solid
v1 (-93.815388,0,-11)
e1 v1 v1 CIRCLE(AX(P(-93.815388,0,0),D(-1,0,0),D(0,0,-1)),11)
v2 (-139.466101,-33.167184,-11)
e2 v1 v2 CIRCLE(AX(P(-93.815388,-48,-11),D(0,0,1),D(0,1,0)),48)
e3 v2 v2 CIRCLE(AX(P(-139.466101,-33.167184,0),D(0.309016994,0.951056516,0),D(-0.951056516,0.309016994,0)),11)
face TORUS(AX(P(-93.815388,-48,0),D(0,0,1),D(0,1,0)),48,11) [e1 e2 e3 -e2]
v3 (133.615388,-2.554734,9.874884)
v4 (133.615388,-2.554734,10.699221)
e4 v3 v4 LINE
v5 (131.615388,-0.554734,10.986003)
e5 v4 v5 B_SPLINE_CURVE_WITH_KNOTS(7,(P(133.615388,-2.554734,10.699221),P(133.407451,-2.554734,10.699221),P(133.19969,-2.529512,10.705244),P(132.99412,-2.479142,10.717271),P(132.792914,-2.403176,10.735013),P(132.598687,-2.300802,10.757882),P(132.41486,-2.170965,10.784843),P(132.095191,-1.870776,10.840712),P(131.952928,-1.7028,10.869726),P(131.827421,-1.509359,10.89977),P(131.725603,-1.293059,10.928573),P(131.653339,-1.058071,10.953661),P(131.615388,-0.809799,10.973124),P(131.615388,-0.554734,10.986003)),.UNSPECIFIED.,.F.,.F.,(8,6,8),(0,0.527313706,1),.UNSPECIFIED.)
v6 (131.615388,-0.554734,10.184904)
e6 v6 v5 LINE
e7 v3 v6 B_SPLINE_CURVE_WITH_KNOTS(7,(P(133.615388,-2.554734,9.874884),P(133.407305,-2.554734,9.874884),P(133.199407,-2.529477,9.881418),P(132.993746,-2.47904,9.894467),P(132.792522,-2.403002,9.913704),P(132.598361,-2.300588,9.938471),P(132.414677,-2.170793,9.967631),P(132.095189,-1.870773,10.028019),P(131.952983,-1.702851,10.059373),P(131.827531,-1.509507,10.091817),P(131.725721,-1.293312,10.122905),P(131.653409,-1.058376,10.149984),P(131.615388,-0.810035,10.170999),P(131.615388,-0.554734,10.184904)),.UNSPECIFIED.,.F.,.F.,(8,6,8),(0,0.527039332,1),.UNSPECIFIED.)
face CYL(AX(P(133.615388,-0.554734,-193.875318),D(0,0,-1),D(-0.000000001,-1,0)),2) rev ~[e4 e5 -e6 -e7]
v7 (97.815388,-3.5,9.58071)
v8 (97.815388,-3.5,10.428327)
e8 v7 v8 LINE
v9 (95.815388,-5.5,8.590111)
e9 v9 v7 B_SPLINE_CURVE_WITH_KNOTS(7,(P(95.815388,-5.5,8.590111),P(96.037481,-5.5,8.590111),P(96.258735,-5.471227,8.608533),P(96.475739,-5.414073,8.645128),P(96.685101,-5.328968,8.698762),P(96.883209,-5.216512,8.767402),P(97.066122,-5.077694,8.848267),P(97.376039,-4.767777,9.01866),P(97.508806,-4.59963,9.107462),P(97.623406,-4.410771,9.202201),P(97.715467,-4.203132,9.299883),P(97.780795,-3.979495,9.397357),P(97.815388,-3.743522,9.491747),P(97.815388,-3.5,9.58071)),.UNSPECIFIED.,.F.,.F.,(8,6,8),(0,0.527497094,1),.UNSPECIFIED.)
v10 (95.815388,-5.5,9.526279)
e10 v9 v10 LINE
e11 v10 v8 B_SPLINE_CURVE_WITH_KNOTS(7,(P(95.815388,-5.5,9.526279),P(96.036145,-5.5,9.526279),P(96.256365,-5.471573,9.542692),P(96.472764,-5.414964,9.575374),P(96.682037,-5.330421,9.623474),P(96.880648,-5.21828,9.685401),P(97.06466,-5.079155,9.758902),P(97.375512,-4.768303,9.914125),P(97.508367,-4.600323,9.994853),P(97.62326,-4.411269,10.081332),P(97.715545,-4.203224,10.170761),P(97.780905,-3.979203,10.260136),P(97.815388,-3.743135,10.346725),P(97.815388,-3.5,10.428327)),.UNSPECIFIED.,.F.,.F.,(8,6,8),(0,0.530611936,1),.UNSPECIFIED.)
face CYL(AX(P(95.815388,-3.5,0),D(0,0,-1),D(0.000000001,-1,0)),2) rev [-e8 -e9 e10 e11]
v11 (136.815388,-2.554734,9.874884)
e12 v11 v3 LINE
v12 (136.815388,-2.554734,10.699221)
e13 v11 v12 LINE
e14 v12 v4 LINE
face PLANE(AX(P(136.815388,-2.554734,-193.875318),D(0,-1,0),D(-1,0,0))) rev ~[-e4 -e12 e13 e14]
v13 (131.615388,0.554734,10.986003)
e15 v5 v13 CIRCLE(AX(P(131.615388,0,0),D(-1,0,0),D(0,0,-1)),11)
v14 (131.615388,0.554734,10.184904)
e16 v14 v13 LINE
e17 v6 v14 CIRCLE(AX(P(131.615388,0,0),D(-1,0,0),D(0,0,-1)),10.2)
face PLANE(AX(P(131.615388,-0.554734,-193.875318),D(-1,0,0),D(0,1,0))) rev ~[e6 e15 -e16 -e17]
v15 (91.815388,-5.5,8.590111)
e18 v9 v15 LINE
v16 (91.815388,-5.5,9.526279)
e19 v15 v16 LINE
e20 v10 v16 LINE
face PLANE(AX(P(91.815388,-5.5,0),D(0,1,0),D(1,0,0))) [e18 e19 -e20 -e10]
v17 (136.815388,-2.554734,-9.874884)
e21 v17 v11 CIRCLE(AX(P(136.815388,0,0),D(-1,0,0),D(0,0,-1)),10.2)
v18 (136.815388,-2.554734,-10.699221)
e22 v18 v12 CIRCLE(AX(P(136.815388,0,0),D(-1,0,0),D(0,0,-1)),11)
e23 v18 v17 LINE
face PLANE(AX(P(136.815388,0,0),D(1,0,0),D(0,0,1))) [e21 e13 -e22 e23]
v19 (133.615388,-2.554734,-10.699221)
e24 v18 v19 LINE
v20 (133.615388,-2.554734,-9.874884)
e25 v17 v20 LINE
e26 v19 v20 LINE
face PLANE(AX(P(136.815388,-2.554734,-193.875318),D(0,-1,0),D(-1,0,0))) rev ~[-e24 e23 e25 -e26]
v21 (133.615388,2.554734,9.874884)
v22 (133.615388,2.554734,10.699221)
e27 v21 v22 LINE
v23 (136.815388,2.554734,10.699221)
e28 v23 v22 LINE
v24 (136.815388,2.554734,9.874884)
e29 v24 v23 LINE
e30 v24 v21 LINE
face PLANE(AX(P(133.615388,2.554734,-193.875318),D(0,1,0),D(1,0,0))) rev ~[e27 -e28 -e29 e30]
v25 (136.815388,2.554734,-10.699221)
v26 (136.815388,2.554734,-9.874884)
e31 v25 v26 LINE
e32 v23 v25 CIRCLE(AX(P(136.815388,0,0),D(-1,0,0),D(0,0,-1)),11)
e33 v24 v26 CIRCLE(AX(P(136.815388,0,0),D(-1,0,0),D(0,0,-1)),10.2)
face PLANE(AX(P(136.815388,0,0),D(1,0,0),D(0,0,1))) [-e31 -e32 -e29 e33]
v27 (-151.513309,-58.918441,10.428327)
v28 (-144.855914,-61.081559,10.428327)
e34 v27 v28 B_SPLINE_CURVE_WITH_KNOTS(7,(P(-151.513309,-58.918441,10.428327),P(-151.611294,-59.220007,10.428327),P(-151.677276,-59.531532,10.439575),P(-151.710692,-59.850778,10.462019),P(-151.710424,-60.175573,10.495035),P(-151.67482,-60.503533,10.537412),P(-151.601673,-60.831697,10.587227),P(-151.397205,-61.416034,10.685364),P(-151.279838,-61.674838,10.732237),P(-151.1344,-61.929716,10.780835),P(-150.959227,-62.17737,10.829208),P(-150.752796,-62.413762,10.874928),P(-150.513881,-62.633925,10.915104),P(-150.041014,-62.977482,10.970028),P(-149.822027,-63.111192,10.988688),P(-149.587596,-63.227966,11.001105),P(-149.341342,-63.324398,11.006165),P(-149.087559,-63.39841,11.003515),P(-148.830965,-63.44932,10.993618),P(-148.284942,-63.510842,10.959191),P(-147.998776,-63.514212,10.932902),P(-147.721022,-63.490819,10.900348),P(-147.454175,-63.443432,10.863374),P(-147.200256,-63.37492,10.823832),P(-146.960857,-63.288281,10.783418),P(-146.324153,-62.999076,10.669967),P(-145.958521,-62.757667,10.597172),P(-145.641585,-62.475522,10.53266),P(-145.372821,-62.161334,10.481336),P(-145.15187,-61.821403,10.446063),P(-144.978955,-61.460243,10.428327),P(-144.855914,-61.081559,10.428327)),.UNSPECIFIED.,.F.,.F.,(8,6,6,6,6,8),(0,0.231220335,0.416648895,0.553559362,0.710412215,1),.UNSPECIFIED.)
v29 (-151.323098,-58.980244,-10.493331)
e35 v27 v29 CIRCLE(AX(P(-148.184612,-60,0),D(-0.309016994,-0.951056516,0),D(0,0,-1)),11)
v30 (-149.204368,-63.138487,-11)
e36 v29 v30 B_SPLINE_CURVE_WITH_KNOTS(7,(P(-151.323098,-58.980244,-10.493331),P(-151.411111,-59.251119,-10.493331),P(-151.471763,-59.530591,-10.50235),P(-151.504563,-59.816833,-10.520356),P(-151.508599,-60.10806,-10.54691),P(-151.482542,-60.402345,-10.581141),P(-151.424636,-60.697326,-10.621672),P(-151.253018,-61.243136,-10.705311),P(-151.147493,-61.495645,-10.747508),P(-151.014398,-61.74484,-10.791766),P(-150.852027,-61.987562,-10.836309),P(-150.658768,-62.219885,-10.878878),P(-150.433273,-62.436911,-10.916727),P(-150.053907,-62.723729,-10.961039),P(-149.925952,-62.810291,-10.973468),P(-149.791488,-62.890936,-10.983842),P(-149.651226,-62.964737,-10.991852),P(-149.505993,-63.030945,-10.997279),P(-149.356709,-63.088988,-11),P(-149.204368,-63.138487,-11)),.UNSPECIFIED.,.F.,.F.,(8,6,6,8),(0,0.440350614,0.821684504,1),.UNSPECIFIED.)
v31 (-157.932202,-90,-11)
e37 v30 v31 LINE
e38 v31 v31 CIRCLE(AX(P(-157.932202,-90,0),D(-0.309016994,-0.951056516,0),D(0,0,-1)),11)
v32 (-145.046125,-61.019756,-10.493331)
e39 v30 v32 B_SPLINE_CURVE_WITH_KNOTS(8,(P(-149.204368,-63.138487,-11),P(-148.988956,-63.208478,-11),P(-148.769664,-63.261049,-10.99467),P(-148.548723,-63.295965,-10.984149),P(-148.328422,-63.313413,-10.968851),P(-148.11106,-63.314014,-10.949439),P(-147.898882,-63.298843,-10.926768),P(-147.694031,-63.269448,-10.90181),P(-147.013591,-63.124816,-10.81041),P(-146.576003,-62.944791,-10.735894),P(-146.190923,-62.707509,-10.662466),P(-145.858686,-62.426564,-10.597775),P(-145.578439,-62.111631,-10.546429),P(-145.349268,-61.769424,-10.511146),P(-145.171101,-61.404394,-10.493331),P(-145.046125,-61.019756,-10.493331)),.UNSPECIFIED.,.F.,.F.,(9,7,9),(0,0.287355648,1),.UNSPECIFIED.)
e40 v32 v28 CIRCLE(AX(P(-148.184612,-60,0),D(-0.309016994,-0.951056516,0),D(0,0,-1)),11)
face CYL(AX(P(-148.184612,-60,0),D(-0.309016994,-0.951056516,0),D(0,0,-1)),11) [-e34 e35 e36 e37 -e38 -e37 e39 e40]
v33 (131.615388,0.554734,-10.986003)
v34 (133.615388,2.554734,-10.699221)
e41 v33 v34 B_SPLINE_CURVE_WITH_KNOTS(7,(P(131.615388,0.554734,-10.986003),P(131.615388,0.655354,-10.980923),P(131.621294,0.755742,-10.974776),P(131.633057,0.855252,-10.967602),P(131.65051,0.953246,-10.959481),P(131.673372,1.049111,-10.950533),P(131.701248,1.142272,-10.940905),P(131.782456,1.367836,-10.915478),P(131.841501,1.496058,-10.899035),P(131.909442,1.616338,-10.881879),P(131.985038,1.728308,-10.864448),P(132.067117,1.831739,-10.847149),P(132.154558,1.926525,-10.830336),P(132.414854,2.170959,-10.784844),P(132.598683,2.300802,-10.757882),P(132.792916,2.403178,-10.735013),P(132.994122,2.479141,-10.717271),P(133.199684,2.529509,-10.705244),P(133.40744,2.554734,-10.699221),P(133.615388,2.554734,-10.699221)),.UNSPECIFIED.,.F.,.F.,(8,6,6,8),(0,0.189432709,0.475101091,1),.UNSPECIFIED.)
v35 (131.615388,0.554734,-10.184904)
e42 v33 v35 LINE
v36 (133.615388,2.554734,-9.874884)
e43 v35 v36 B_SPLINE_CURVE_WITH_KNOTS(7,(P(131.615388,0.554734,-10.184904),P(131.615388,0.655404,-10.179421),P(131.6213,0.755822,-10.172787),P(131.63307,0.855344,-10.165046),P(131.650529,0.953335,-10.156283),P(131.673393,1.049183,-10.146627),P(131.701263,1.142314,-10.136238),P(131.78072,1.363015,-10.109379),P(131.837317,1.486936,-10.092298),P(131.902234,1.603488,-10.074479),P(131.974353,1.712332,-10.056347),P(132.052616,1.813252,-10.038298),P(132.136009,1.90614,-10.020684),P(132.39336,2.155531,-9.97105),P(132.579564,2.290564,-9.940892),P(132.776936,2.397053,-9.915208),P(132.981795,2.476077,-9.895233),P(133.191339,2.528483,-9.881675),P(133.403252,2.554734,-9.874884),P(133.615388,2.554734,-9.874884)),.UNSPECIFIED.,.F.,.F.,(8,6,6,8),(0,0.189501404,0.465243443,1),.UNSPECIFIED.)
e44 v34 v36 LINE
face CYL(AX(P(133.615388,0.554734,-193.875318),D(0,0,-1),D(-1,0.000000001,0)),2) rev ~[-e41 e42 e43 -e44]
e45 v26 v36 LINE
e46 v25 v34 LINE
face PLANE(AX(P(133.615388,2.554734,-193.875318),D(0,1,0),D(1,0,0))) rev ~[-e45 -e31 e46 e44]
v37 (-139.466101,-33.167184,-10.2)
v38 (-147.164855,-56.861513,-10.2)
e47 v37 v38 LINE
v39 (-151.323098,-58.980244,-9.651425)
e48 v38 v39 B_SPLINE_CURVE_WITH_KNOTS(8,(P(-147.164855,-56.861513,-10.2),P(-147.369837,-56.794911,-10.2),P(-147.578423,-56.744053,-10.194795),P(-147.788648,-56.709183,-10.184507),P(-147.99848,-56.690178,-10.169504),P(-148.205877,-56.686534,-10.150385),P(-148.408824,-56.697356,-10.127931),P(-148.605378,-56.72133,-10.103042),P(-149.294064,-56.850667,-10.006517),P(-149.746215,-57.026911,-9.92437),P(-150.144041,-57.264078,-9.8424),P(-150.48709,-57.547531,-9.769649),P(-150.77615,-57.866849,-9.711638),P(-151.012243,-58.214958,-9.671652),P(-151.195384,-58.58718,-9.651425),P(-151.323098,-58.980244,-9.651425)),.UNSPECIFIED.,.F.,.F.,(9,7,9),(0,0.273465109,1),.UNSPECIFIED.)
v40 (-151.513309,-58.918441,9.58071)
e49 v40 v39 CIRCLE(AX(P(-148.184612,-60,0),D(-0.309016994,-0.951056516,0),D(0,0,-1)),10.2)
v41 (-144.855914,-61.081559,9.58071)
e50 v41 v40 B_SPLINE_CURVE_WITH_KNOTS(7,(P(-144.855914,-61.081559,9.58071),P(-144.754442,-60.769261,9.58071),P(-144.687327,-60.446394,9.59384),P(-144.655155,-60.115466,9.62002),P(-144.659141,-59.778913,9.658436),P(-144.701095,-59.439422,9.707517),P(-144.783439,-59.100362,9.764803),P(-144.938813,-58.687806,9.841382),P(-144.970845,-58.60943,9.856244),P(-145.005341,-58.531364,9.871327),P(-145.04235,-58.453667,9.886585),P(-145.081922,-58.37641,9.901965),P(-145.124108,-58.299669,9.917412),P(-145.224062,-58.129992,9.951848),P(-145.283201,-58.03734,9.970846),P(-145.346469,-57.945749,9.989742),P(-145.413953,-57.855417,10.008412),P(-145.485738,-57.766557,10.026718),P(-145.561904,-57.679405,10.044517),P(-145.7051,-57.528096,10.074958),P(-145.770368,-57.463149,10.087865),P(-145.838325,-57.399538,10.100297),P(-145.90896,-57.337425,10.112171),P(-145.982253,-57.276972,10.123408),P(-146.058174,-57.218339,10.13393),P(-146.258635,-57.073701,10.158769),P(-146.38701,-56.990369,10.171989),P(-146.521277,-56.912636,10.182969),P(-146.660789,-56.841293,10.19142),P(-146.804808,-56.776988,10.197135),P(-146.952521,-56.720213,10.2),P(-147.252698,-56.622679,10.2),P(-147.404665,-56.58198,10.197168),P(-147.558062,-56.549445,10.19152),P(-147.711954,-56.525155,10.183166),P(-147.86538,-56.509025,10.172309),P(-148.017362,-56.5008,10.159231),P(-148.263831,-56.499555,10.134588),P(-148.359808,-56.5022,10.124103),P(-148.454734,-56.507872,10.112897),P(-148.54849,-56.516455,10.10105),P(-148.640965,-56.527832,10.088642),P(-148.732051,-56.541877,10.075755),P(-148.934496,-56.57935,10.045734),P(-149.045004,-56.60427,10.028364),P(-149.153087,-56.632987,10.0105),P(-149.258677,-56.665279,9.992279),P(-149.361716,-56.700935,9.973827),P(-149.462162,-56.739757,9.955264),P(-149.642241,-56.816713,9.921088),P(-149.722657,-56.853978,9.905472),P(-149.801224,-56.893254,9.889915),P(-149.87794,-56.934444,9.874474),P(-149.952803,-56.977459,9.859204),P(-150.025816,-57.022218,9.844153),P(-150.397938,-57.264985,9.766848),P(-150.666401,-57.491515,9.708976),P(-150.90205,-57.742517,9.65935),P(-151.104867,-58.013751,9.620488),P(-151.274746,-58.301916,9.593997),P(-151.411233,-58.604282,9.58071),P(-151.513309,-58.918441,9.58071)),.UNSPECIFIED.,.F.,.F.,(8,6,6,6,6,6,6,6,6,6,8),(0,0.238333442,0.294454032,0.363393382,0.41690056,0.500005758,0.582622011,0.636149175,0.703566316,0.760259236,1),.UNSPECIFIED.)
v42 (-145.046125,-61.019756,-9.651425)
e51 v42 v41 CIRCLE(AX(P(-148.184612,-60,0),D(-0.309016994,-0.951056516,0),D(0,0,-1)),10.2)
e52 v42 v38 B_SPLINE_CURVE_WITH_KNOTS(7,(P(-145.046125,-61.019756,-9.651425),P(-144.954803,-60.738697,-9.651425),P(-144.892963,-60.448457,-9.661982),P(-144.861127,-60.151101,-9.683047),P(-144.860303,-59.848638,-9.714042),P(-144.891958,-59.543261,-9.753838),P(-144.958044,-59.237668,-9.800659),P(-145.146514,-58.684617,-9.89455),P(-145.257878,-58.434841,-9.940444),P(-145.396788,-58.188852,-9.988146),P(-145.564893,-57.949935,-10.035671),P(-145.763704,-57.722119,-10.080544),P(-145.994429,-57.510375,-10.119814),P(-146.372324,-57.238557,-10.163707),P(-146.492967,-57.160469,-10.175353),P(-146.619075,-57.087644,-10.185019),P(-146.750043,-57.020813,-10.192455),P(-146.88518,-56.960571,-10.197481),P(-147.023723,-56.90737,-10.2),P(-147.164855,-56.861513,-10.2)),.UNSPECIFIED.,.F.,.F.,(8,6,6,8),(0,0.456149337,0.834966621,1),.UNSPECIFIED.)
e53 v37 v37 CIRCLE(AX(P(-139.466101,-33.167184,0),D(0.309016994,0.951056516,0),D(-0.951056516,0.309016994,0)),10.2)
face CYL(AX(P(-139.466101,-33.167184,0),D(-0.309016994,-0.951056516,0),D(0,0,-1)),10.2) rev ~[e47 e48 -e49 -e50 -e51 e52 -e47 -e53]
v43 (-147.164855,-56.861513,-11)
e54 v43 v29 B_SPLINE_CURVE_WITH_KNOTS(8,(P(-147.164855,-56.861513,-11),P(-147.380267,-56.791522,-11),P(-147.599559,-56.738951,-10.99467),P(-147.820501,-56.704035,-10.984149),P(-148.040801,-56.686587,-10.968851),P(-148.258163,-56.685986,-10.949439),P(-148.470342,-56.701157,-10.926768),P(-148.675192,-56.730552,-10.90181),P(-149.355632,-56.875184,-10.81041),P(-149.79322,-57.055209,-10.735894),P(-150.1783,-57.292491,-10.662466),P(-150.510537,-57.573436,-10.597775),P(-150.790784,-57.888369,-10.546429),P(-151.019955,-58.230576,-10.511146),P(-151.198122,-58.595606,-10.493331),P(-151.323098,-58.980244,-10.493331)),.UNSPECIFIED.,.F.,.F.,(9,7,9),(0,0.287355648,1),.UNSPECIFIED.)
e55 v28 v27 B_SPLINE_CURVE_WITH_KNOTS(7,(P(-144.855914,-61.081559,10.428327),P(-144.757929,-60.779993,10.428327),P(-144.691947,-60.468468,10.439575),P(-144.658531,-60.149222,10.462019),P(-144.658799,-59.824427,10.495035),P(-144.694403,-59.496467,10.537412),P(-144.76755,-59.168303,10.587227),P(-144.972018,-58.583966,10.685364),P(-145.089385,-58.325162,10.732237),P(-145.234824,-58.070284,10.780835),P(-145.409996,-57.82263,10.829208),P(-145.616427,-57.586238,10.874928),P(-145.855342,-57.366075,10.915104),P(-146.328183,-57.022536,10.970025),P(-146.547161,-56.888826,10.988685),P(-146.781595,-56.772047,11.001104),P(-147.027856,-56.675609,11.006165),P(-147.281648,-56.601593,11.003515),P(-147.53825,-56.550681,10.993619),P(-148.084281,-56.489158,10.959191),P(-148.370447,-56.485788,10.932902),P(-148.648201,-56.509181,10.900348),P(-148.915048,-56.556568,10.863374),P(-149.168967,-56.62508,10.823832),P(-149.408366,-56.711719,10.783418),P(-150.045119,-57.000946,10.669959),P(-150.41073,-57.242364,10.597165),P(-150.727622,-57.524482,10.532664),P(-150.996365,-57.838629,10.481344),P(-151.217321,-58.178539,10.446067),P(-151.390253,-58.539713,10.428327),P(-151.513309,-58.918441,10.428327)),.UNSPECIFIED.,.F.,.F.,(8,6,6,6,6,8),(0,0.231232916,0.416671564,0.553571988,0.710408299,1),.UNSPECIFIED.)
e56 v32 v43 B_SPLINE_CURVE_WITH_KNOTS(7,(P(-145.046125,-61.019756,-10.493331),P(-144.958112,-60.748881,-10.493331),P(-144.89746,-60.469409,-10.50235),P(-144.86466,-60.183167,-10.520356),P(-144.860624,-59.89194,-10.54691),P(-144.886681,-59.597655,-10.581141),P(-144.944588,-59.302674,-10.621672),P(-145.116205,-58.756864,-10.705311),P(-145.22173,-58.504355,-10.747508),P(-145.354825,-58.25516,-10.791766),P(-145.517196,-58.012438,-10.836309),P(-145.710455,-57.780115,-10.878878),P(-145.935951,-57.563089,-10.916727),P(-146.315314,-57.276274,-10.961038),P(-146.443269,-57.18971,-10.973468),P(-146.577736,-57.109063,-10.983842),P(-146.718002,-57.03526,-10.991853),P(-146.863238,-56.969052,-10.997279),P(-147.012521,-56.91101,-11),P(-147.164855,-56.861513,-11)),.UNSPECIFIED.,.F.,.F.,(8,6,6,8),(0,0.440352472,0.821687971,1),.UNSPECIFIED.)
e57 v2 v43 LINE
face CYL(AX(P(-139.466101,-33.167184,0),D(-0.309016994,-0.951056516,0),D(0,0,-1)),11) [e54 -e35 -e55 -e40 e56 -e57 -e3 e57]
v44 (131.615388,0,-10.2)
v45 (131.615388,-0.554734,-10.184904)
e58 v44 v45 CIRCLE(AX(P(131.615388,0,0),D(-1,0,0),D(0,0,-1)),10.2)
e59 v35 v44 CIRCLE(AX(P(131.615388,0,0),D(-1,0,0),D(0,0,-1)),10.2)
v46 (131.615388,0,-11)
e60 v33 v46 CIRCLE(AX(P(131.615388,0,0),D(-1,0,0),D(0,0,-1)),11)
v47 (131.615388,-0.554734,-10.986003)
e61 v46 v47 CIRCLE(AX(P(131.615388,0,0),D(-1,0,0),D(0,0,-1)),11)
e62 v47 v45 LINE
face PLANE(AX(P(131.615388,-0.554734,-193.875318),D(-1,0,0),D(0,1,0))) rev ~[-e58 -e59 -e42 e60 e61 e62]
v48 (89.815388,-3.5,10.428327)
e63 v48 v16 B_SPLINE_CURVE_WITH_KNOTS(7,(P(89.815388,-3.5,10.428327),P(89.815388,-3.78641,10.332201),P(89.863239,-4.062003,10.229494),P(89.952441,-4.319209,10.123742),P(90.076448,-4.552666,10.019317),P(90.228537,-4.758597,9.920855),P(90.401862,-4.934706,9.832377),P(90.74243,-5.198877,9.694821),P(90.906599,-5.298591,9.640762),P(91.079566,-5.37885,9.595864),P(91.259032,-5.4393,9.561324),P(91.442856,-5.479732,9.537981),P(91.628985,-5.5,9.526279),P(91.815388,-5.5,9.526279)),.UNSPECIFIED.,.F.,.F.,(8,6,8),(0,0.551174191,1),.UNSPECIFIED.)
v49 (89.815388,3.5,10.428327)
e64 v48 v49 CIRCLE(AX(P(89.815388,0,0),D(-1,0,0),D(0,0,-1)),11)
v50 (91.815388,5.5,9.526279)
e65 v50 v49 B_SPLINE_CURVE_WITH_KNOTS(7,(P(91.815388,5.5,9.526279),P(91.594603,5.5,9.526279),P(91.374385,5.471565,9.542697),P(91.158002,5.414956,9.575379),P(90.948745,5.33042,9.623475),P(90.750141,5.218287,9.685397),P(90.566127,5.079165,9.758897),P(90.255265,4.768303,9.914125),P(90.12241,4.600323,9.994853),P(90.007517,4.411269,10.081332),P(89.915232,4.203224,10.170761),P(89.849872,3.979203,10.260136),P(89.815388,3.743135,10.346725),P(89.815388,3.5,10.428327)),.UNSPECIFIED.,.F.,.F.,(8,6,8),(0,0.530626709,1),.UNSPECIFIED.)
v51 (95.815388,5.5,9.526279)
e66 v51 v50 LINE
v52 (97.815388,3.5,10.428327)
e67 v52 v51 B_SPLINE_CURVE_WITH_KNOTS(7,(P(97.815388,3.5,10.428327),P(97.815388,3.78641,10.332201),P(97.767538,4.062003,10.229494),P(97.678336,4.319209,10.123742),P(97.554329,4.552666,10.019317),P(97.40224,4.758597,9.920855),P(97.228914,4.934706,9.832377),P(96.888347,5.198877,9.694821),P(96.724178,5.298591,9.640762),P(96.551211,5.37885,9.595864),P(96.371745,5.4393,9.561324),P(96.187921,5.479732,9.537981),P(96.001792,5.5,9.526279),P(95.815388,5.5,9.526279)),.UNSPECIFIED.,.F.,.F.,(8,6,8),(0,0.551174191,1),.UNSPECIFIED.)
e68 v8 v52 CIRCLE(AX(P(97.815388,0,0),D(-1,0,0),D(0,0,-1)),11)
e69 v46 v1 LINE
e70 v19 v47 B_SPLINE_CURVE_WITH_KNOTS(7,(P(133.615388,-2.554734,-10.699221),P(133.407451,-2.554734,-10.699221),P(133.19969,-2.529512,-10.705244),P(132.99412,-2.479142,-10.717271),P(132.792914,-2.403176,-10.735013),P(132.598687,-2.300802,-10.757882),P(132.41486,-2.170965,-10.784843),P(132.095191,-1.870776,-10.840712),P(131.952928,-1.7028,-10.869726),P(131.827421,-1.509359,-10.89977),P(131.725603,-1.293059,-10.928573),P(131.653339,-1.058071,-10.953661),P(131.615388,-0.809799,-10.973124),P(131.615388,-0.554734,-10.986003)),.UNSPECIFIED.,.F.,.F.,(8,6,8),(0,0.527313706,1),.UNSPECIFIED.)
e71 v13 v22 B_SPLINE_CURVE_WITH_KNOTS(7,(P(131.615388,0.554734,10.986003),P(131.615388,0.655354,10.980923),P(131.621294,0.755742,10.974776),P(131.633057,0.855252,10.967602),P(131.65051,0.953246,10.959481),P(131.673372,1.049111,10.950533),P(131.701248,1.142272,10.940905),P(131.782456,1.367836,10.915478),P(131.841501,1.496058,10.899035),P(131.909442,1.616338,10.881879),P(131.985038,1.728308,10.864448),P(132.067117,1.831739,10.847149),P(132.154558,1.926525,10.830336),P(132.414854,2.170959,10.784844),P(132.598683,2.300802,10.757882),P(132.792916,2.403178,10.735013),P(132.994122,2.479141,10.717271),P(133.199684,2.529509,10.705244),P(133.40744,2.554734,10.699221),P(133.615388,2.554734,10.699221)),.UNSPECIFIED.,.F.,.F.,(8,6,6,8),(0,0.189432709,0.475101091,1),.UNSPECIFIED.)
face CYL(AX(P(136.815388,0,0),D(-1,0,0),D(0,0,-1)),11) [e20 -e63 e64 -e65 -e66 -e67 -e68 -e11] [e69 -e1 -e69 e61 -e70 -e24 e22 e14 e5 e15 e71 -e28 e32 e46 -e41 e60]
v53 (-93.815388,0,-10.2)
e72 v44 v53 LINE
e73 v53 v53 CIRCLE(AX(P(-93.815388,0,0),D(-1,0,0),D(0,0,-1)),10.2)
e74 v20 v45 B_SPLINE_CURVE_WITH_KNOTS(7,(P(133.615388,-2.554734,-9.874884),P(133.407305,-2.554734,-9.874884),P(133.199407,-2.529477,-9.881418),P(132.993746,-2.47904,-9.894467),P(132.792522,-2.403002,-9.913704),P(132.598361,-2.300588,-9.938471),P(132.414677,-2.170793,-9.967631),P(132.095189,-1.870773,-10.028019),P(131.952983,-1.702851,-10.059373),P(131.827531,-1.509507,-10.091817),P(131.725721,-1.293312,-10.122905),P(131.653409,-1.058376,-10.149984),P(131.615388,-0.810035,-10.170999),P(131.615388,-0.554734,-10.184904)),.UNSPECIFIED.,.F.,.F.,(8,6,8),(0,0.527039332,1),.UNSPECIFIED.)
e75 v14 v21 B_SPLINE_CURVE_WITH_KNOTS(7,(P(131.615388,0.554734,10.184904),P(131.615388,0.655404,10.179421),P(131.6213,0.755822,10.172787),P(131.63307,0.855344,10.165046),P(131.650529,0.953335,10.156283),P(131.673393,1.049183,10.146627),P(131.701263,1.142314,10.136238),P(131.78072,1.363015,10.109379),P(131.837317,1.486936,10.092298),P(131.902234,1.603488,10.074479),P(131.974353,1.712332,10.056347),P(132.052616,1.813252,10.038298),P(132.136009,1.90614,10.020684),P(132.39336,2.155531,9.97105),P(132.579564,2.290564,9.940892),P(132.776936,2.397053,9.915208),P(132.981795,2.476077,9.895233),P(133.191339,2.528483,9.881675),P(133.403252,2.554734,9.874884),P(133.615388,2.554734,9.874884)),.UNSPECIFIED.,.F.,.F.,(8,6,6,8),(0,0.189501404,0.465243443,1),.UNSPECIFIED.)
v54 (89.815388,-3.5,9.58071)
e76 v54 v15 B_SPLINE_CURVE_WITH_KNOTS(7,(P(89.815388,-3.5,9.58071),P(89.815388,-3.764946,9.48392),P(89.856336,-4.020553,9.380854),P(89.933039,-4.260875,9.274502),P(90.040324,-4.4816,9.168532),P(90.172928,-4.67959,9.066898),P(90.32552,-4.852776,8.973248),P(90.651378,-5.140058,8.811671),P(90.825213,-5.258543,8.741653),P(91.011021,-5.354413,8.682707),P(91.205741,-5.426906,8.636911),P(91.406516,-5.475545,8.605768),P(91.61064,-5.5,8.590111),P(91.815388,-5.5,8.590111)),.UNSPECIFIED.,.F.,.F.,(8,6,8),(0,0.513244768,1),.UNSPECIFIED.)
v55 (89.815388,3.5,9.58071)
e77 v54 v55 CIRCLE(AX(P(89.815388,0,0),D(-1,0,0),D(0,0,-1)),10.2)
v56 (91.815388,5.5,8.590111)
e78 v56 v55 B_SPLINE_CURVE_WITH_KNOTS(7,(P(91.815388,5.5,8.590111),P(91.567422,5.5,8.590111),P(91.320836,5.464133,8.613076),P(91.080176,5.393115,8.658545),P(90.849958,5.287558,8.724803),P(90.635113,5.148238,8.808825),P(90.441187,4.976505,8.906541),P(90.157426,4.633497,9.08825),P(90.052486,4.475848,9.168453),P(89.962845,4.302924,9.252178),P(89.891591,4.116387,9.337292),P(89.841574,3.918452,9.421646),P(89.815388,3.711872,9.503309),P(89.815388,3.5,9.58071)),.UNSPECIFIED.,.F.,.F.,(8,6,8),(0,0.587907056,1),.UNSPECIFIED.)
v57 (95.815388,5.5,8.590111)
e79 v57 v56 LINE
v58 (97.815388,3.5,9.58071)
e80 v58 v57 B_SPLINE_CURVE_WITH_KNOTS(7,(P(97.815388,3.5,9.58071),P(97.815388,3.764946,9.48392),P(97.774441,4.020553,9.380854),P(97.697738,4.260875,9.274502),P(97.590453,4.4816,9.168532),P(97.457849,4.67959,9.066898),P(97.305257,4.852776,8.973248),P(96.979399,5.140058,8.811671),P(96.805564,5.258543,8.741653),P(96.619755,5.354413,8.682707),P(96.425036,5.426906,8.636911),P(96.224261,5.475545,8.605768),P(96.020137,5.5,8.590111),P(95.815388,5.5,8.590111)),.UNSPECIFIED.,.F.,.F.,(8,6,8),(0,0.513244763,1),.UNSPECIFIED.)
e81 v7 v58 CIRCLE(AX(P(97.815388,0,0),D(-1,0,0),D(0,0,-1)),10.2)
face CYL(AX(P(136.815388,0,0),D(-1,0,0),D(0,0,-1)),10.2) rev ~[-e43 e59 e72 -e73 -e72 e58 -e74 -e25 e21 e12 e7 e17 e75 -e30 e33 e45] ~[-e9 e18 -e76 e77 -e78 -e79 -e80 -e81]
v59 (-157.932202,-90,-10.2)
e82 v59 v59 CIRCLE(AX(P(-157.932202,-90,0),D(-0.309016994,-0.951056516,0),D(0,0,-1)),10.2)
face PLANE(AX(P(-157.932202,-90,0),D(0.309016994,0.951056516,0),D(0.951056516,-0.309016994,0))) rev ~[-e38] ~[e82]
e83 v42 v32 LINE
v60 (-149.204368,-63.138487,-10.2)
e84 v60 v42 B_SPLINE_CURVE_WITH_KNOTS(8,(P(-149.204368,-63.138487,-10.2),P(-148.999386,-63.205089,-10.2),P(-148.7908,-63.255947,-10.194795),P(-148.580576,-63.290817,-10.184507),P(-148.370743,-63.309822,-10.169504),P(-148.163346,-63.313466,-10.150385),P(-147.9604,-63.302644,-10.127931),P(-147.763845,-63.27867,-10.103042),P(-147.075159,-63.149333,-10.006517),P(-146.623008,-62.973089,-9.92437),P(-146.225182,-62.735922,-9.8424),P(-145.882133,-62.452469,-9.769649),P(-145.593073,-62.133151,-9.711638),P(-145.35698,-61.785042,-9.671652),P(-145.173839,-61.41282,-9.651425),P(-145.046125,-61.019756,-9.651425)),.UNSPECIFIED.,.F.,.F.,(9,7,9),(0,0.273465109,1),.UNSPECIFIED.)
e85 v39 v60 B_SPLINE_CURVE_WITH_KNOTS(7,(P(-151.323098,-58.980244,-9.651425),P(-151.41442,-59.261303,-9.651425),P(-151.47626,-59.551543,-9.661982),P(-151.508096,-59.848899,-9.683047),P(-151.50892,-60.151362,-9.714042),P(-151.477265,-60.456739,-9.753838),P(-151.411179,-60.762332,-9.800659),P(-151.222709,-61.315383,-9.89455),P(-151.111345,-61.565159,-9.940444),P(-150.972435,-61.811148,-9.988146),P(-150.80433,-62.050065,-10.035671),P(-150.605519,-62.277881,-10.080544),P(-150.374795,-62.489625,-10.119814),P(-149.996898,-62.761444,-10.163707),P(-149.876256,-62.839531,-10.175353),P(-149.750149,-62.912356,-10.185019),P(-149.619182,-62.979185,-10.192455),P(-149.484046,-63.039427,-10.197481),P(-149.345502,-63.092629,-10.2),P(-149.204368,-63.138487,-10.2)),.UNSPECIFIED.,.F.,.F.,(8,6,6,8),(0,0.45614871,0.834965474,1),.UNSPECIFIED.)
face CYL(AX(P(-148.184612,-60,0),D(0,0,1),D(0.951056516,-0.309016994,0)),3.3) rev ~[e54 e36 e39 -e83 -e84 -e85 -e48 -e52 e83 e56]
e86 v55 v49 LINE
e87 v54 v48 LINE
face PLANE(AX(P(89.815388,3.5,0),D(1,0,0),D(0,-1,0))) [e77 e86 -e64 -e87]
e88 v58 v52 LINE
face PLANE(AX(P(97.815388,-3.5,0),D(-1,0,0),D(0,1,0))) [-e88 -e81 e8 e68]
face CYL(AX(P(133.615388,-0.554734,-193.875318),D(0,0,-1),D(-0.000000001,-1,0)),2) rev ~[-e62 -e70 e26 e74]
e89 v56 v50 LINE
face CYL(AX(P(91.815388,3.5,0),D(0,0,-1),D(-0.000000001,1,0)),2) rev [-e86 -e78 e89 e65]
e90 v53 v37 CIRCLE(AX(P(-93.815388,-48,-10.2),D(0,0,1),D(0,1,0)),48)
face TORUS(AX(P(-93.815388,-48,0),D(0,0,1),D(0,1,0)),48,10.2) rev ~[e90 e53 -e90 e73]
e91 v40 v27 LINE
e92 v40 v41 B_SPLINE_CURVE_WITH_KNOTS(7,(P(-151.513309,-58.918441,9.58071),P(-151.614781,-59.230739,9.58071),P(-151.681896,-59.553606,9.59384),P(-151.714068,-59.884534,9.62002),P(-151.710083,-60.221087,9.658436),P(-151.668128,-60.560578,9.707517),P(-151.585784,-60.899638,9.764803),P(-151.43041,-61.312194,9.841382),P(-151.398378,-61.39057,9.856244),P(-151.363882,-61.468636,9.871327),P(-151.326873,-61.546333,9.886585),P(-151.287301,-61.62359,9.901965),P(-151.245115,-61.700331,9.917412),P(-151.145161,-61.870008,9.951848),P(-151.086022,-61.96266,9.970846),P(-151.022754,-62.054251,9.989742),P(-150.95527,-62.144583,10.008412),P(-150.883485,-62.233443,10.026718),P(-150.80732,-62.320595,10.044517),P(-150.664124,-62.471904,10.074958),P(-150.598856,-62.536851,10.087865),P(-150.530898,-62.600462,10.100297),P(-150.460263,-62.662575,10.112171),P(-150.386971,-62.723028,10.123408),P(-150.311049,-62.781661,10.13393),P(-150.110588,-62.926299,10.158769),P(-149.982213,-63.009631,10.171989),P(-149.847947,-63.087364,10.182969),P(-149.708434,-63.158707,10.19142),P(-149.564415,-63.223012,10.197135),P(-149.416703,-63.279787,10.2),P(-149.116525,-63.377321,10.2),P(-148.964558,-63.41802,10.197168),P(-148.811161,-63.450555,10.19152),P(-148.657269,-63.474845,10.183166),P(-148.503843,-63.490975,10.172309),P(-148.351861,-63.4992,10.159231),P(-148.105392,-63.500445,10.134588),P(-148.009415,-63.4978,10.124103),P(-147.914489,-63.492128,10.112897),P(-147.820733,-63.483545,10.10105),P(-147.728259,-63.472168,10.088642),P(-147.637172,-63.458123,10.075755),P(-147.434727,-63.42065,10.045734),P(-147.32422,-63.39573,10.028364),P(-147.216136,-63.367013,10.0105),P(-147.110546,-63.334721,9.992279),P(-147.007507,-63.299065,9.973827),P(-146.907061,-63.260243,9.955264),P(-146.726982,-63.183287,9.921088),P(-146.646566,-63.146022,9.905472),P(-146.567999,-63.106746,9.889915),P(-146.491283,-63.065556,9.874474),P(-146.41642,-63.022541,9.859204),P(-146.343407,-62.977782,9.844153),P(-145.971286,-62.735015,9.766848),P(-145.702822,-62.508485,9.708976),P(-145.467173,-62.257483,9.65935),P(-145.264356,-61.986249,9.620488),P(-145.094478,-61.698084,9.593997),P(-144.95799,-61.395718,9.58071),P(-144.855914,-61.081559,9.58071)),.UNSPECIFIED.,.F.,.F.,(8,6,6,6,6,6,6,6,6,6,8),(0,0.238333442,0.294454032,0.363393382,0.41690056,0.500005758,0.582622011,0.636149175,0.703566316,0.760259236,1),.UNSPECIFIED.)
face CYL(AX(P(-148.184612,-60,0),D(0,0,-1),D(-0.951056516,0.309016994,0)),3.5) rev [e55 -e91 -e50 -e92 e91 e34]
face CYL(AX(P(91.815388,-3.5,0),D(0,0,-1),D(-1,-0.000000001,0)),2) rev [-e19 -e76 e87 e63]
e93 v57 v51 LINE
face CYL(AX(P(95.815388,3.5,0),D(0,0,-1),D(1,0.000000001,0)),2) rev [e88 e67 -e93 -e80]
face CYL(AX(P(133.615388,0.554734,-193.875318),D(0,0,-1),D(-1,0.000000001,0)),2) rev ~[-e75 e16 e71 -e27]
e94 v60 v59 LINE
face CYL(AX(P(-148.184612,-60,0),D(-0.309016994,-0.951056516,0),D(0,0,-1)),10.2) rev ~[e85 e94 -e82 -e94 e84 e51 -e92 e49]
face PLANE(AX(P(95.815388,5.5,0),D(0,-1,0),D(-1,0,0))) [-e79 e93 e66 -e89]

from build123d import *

# Parameters (mm, degrees)
SKETCH3_R               = 11
SKETCH3_R_2             = 10.2
CUT_EXTRUDE1_REACH      = 194.875
SKETCH4_R               = 3.5
SKETCH5_R               = 3.3
CUT_EXTRUDE2_DEPTH      = 193.875317702
CUT_EXTRUDE3_DEPTH      = 193.875317702
CUT_EXTRUDE3_DEPTH_BACK = 193.875317702


with BuildPart() as part:
    # Sweep2: sweep along a path in Sketch1
    with BuildLine(Plane.XY) as sweep2_path:
        Line((136.815388441, 0), (93.815388441, 0))
        Line((93.815388441, 0), (-93.815388441, 0))
        ThreePointArc((-93.815388441, 0), (-122.029080551, -9.16718427), (-139.466101223, -33.16718427))
        Line((-139.466101223, -33.16718427), (-148.184611559, -60))
        Line((-148.184611559, -60), (-157.932202446, -90))
    # Sketch3 → Sweep2 (sweep)
    with BuildSketch(Plane(origin=(93.815388441, 0, 0), x_dir=(0, 0, -1), z_dir=(1, 0, 0))):
        Circle(SKETCH3_R)
        Circle(SKETCH3_R_2, mode=Mode.SUBTRACT)
    sweep(path=sweep2_path.line)

    # Sketch4 → Cut-Extrude1 (cut, up to next)
    with BuildSketch(Plane.XY, mode=Mode.PRIVATE) as cut_extrude1_sk1:
        with Locations((-148.184611559, -60)):
            Circle(SKETCH4_R)
    cut_extrude1_tool1 = extrude(cut_extrude1_sk1.sketch, amount=CUT_EXTRUDE1_REACH, mode=Mode.PRIVATE) & part.part
    # Sketch4 → Cut-Extrude1 (cut, up to next)
    with BuildSketch(Plane.XY, mode=Mode.PRIVATE) as cut_extrude1_sk2:
        with BuildLine():
            Line((91.815388441, -5.5), (95.815388441, -5.5))
            ThreePointArc((95.815388441, -5.5), (97.229602003, -4.914213562), (97.815388441, -3.5))
            Line((97.815388441, -3.5), (97.815388441, 3.5))
            ThreePointArc((97.815388441, 3.5), (97.229602003, 4.914213562), (95.815388441, 5.5))
            Line((95.815388441, 5.5), (91.815388441, 5.5))
            ThreePointArc((91.815388441, 5.5), (90.401174879, 4.914213562), (89.815388441, 3.5))
            Line((89.815388441, 3.5), (89.815388441, -3.5))
            ThreePointArc((89.815388441, -3.5), (90.401174879, -4.914213562), (91.815388441, -5.5))
        make_face()
    cut_extrude1_tool2 = extrude(cut_extrude1_sk2.sketch, amount=CUT_EXTRUDE1_REACH, mode=Mode.PRIVATE) & part.part
    add(cut_extrude1_tool1.solids().sort_by_distance((-148.184612, -60, 0))[0], mode=Mode.SUBTRACT)
    add(cut_extrude1_tool2.solids().sort_by_distance((93.815388, 0, 0))[0], mode=Mode.SUBTRACT)

    # Sketch5 → Cut-Extrude2 (cut, through all)
    with BuildSketch(Plane.XY):
        with Locations((-148.184611559, -60)):
            Circle(SKETCH5_R)
    extrude(amount=-CUT_EXTRUDE2_DEPTH, mode=Mode.SUBTRACT)

    # Sketch6 → Cut-Extrude3 (cut, two sides: drawn at the far end of the back side and taken through both)
    with BuildSketch(Plane.XY.offset(-CUT_EXTRUDE3_DEPTH_BACK)):
        with BuildLine():
            Line((136.889174497, 2.554733627), (136.815388441, -2.554733627))
            Line((136.815388441, -2.554733627), (133.615388441, -2.554733627))
            ThreePointArc((133.615388441, -2.554733627), (132.201174879, -1.968947189), (131.615388441, -0.554733627))
            Line((131.615388441, -0.554733627), (131.615388441, 0.554733627))
            ThreePointArc((131.615388441, 0.554733627), (132.201174879, 1.968947189), (133.615388441, 2.554733627))
            Line((133.615388441, 2.554733627), (136.889174497, 2.554733627))
        make_face()
    extrude(amount=CUT_EXTRUDE3_DEPTH + CUT_EXTRUDE3_DEPTH_BACK, mode=Mode.SUBTRACT)


solid = part.part
